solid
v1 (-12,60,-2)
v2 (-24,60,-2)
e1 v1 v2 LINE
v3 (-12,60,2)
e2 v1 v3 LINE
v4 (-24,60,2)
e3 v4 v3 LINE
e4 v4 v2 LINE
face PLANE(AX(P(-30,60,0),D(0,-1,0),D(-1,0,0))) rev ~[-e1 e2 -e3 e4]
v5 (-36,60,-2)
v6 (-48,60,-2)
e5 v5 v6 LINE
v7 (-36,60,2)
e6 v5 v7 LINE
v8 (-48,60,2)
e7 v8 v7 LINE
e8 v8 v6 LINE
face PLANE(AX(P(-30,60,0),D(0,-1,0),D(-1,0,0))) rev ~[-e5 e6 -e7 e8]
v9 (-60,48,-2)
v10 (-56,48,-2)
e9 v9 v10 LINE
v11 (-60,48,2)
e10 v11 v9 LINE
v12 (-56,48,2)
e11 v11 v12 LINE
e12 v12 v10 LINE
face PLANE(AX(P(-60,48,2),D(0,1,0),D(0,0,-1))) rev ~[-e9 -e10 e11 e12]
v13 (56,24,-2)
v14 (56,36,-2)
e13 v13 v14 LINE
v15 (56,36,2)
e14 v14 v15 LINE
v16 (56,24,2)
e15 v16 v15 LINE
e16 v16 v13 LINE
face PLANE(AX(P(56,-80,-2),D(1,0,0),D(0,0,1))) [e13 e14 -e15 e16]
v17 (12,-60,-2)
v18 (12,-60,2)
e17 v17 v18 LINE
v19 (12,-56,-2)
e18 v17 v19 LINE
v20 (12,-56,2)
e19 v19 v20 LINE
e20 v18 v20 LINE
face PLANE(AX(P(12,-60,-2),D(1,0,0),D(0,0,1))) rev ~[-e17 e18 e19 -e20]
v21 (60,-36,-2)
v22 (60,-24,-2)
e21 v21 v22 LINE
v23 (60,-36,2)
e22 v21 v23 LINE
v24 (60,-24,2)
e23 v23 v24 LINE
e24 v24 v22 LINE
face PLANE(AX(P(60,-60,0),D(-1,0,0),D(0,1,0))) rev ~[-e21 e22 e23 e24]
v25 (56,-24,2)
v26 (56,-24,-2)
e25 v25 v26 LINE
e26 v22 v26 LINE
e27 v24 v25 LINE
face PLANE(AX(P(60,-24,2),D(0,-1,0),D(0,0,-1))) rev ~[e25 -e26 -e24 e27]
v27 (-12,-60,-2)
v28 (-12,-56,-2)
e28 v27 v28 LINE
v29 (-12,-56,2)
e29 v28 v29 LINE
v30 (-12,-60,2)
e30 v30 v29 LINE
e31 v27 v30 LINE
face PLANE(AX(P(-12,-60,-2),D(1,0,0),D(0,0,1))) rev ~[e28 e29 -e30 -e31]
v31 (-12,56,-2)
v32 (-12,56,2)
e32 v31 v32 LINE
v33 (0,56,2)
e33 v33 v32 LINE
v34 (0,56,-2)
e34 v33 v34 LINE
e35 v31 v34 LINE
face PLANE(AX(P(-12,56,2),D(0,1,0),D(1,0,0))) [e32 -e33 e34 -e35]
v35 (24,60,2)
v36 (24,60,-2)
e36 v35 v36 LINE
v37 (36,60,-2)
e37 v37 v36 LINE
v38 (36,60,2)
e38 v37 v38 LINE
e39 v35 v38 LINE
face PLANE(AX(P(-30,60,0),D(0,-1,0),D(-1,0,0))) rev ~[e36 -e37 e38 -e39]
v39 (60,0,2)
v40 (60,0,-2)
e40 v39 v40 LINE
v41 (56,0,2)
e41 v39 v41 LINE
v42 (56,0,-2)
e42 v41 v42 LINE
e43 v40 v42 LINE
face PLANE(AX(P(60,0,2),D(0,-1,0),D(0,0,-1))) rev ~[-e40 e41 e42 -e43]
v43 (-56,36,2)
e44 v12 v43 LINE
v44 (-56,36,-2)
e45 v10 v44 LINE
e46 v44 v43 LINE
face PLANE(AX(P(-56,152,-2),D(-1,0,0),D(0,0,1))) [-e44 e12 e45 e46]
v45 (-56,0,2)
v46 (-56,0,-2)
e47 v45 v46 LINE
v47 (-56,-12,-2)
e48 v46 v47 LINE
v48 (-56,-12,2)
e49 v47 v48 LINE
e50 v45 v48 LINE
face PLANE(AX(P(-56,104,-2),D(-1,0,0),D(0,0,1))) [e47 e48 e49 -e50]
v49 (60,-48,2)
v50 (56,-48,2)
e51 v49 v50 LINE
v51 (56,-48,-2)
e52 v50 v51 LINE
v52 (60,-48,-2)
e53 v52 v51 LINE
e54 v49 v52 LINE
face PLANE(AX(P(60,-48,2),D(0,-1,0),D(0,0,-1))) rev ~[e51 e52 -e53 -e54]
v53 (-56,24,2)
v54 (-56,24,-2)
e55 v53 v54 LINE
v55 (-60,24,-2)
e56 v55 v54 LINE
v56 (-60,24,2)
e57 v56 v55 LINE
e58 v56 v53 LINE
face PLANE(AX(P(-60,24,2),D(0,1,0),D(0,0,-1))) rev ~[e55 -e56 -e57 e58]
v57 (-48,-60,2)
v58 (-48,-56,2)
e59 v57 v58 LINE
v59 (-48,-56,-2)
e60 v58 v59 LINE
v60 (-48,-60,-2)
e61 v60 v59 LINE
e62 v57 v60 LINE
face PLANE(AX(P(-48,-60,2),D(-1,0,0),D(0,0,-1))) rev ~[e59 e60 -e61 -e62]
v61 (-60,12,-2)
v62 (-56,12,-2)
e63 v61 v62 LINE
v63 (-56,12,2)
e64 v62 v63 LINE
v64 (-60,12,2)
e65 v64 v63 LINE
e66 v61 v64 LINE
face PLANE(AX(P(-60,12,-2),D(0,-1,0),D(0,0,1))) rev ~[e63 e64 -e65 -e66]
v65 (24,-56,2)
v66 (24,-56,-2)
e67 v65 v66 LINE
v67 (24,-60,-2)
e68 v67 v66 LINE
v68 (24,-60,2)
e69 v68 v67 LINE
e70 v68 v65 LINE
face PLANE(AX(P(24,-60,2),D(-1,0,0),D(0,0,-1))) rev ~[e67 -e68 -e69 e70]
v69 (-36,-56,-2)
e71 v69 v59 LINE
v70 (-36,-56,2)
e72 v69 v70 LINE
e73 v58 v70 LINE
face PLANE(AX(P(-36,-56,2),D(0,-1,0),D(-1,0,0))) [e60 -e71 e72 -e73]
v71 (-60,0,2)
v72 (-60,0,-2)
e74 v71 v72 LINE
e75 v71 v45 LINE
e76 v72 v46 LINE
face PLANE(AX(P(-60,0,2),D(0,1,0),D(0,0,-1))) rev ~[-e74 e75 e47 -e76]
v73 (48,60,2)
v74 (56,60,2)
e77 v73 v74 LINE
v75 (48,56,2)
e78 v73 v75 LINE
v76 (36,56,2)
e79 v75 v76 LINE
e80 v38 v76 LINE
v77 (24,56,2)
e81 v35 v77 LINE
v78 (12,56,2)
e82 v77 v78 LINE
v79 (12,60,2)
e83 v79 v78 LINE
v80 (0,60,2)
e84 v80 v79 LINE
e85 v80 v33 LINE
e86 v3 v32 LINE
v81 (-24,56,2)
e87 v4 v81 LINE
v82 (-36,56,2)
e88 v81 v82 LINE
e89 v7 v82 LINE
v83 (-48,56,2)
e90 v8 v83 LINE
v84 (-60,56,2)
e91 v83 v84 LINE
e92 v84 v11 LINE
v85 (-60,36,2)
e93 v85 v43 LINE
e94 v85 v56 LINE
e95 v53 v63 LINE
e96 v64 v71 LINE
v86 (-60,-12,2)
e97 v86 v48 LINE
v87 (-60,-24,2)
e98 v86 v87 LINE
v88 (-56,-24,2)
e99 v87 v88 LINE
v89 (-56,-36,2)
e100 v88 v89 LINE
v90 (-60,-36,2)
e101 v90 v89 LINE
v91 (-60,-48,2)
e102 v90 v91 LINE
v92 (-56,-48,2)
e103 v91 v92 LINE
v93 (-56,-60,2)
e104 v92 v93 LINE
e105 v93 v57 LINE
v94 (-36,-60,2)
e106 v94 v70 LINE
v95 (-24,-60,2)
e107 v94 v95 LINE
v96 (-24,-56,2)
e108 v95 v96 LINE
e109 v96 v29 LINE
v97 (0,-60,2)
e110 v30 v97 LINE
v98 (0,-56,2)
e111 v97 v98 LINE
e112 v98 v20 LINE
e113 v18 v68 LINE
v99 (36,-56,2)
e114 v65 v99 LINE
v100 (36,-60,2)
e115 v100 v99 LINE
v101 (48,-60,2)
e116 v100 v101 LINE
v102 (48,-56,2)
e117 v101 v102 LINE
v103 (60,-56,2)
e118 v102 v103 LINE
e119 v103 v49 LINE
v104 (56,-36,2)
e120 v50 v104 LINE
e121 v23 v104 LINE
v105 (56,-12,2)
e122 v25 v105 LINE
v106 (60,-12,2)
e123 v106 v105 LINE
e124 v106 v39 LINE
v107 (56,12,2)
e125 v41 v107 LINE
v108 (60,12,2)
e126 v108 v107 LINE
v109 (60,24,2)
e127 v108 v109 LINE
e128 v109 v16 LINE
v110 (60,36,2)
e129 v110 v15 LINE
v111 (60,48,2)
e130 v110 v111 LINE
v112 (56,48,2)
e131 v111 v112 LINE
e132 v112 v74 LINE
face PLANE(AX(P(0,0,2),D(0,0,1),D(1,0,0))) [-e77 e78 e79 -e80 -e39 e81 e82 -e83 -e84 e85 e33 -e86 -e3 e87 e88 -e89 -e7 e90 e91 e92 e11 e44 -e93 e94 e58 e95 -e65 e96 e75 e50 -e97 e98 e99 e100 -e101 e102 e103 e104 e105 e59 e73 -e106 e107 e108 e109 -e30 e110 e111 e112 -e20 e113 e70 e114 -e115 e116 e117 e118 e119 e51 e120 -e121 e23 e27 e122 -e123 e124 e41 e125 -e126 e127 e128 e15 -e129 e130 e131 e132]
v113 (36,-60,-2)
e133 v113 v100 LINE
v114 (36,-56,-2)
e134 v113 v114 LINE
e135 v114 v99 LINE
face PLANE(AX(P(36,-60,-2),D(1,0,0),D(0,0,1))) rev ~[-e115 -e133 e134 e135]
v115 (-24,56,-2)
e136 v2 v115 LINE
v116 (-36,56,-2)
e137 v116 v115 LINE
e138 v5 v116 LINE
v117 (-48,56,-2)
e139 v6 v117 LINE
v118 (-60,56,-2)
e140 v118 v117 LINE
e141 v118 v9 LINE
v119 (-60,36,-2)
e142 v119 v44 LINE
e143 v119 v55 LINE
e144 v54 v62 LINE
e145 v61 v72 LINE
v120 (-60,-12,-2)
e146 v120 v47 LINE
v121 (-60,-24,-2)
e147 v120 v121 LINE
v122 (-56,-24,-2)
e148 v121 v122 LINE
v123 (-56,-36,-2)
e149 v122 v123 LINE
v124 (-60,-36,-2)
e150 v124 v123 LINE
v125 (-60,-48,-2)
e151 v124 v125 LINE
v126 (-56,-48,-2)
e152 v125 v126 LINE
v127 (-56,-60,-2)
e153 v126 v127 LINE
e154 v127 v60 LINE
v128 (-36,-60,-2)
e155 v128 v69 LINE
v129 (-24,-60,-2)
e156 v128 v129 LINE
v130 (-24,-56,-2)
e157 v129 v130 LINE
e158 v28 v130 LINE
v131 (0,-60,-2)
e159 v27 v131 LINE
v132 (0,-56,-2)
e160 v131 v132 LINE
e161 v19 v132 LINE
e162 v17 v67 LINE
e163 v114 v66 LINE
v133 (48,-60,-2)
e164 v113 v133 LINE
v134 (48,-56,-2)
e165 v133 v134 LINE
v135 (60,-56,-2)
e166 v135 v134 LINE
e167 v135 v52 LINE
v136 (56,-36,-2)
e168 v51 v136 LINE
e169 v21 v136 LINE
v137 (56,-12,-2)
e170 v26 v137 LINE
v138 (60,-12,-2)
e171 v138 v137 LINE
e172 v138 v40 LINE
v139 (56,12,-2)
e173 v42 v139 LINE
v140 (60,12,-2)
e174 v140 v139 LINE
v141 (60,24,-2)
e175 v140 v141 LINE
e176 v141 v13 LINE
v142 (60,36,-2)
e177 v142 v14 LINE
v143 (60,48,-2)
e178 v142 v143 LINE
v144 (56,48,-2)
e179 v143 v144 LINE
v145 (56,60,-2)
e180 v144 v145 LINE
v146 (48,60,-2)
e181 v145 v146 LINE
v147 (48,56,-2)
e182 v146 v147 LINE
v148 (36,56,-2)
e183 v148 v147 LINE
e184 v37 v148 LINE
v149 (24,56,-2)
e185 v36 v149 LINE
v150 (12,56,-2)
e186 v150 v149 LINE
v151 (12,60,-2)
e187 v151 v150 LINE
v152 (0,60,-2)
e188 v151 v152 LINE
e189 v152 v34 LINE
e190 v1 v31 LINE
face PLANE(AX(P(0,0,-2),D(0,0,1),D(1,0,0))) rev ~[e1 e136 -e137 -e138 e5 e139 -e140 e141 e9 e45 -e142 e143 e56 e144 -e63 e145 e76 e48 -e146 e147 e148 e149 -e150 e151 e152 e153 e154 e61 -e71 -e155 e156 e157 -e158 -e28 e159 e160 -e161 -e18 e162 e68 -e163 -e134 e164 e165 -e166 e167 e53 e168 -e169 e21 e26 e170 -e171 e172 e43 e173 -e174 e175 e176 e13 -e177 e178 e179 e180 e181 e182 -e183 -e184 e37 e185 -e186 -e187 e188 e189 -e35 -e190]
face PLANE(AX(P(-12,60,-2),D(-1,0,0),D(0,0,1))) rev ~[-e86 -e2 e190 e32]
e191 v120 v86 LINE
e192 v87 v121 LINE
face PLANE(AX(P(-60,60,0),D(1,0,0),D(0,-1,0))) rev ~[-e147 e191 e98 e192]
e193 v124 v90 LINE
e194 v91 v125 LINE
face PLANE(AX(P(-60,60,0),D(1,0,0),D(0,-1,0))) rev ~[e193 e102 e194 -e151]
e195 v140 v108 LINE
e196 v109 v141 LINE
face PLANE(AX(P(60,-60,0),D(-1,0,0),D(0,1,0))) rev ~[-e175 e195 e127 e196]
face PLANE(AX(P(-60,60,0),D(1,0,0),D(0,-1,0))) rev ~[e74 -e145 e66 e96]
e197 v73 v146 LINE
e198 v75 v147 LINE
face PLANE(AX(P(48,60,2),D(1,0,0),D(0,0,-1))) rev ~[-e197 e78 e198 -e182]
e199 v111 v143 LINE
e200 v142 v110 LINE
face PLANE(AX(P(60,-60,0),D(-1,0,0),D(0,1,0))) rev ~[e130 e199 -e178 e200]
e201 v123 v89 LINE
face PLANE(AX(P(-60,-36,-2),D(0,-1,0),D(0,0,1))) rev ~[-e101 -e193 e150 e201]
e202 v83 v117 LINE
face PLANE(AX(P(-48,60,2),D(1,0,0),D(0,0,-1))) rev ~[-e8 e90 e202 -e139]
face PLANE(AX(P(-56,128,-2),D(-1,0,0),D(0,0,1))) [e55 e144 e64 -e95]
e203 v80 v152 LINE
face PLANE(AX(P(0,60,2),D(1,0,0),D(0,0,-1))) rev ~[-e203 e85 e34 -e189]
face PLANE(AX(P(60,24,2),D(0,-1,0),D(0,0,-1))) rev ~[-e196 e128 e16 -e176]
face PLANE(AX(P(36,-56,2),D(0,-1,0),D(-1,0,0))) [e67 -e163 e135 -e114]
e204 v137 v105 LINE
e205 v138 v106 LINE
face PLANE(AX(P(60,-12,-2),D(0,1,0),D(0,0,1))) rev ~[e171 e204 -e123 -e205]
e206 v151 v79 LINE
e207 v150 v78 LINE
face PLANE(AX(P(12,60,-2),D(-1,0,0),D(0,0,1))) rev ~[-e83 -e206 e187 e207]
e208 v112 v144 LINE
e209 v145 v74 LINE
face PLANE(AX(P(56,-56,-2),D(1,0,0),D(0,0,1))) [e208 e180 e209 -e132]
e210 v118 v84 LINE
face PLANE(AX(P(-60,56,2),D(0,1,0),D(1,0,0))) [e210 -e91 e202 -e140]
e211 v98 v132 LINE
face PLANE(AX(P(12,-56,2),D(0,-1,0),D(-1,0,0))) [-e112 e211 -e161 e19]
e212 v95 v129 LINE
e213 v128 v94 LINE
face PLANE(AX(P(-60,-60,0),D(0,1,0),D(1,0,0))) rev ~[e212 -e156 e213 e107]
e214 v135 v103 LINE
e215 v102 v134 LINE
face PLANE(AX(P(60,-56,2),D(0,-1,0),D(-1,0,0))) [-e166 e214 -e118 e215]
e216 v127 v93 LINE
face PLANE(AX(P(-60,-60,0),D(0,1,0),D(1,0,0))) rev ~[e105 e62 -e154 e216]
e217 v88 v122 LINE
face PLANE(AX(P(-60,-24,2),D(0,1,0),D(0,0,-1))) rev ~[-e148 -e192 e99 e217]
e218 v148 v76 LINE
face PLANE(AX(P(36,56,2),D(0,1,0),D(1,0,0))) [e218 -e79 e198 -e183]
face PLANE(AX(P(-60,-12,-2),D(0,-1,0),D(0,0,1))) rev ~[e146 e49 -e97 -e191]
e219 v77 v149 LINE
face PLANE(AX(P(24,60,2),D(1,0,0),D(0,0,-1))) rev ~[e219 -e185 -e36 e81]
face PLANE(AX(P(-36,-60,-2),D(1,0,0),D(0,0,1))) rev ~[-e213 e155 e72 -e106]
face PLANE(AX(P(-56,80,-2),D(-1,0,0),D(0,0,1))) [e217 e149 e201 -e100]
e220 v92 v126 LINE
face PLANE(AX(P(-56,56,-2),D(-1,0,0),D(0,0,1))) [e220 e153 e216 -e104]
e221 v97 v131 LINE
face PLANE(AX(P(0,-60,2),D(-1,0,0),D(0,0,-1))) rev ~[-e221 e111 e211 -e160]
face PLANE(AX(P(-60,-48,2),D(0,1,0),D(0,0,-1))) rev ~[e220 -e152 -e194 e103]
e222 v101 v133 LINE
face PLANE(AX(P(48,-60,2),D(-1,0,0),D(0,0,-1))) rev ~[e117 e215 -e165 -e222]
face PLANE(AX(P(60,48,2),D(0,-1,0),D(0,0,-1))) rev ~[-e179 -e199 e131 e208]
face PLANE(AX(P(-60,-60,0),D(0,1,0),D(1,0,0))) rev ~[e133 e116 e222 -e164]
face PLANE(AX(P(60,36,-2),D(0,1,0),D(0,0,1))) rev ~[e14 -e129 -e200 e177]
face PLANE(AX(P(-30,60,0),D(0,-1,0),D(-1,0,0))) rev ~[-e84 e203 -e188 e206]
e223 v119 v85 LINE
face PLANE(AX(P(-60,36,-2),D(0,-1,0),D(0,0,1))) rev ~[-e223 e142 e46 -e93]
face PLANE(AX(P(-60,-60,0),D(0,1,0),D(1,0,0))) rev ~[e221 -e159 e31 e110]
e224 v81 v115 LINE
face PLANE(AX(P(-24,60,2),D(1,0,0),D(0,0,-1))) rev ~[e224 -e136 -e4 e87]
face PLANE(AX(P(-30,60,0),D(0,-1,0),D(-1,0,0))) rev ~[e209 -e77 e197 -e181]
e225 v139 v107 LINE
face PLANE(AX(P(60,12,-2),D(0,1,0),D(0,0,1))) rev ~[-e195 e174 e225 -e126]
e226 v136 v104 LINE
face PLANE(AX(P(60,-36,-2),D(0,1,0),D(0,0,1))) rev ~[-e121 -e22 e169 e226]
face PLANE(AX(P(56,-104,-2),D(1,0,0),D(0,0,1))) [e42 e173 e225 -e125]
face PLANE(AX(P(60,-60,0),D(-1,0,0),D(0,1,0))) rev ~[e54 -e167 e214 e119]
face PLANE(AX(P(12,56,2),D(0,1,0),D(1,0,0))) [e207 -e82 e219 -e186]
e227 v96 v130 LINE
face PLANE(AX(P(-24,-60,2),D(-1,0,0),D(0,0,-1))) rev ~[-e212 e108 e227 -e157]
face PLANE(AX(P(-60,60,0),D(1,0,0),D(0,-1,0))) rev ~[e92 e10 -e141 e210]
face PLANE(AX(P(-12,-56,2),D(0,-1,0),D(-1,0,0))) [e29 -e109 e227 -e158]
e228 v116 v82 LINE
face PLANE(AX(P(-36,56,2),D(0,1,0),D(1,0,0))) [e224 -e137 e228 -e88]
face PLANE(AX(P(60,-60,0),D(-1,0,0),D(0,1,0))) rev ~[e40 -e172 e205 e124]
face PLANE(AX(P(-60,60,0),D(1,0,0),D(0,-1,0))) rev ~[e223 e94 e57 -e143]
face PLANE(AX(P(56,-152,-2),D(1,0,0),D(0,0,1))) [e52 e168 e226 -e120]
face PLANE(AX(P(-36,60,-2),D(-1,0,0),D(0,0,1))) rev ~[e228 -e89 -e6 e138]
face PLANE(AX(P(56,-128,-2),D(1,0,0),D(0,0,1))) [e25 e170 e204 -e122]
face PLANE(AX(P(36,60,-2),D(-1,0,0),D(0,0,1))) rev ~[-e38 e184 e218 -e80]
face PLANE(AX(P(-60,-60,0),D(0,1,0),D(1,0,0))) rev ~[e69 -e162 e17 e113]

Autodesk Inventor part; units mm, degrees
ref_plane "YZ Plane" through (0, 0, 0) normal (1, 0, 0) x (0, 1, 0)
ref_plane "XZ Plane" through (0, 0, 0) normal (0, 1, 0) x (-1, 0, 0)
ref_plane "XY Plane" through (0, 0, 0) normal (0, 0, 1) x (1, 0, 0)
sketch "Sketch1" plane through (0, 0, 0) normal (0, 0, 1) x (1, 0, 0)
  line L0 (-60, -60) -> (60, -60)
  line L1 (60, -60) -> (60, 60)
  line L2 (60, 60) -> (-60, 60)
  line L3 (-60, 60) -> (-60, -60)
  line L4 (-30, 60) -> (-24.8931, 60)
  point P0 (0, 0)
  dimension "d0" = 120
  dimension "d1" = 120
  dimension "d2" = 60
  dimension "d3" = 60
extrude "Extrusion1" add sketch "Sketch1" along normal mid plane 4
sketch "Sketch3" plane through (-60, 60, 2) normal (0, 1, 0) x (1, 0, 0)
  line L0 (120, 0) -> (0, 0) projected
  line L1 (0, 4) -> (120, 4) projected
  line L2 (0, 0) -> (12, 0)
  line L3 (12, 0) -> (12, 4)
  line L4 (12, 4) -> (0, 4)
  line L5 (0, 4) -> (0, 0)
  line L6 (0, 4) -> (0, 0) projected
  point P0 (60, 2)
  dimension "d17" = 0
  dimension "d18" = 12
extrude "Extrusion2" cut sketch "Sketch3" against normal blind 4
pattern_linear "side_top" count 5 spacing 24 along (1, 0, 0) of "Extrusion2"
sketch "Sketch4" plane through (-60, 56, -2) normal (-1, 0, 0) x (0, 0, 1)
  line L0 (4, 0) -> (4, -116) projected
  line L1 (0, -116) -> (4, -116)
  line L2 (4, -116) -> (4, -104)
  line L3 (4, -104) -> (0, -104)
  line L4 (0, -104) -> (0, -116)
  line L5 (0, -116) -> (4, -116) projected
  point P0 (2, -56)
  point P1 (4, -112)
  point P2 (4, -104)
  dimension "d49" = 4
  dimension "d50" = 12
  dimension "d51" = 0
  dimension "d52" = 0
extrude "Extrusion3" cut sketch "Sketch4" against normal blind 4
pattern_circular "side_bottom" count 2 over 360 about axis through (0, 0, -10) along (0, 0, 1) of "Extrusion2", "side_top"
pattern_linear "side_left" count 5 spacing 24 along (0, 1, 0) of "Extrusion3"
pattern_circular "side_right" count 2 over 360 about axis through (0, 0, -10) along (0, 0, 1) of "Extrusion3", "side_left"
sketch "Sketch6" plane through (0, 0, 2) normal (0, 0, 1) x (1, 0, 0)
  line L0 (60, -12) -> (60, 0) projected
  line L1 (60, 0) -> (56, 0) projected
  line L2 (56, 0) -> (56, 12) projected
  line L3 (56, 12) -> (60, 12) projected
  line L4 (60, 12) -> (60, 24) projected
  line L5 (60, 24) -> (56, 24) projected
  line L6 (56, 24) -> (56, 36) projected
  line L7 (56, 36) -> (60, 36) projected
  line L8 (60, 36) -> (60, 48) projected
  line L9 (60, 48) -> (56, 48) projected
  line L10 (56, 48) -> (56, 60) projected
  line L11 (56, 60) -> (48, 60) projected
  line L12 (48, 60) -> (48, 56) projected
  line L13 (48, 56) -> (36, 56) projected
  line L14 (36, 56) -> (36, 60) projected
  line L15 (36, 60) -> (24, 60) projected
  line L16 (24, 60) -> (24, 56) projected
  line L17 (24, 56) -> (12, 56) projected
  line L18 (12, 56) -> (12, 60) projected
  line L19 (12, 60) -> (0, 60) projected
  line L20 (0, 60) -> (0, 56) projected
  line L21 (0, 56) -> (-12, 56) projected
  line L22 (-12, 56) -> (-12, 60) projected
  line L23 (-12, 60) -> (-24, 60) projected
  line L24 (-24, 60) -> (-24, 56) projected
  line L25 (-24, 56) -> (-36, 56) projected
  line L26 (-36, 56) -> (-36, 60) projected
  line L27 (-36, 60) -> (-48, 60) projected
  line L28 (-48, 60) -> (-48, 56) projected
  line L29 (-48, 56) -> (-60, 56) projected
  line L30 (-60, 12) -> (-60, 0) projected
  line L31 (-60, 0) -> (-56, 0) projected
  line L32 (-56, 0) -> (-56, -12) projected
  line L33 (-56, -12) -> (-60, -12) projected
  line L34 (-60, -12) -> (-60, -24) projected
  line L35 (-60, -24) -> (-56, -24) projected
  line L36 (-56, -24) -> (-56, -36) projected
  line L37 (-56, -36) -> (-60, -36) projected
  line L38 (-60, -36) -> (-60, -48) projected
  line L39 (-60, -48) -> (-56, -48) projected
  line L40 (-56, -48) -> (-56, -60) projected
  line L41 (-56, -60) -> (-48, -60) projected
  line L42 (-48, -60) -> (-48, -56) projected
  line L43 (-48, -56) -> (-36, -56) projected
  line L44 (-36, -56) -> (-36, -60) projected
  line L45 (-36, -60) -> (-24, -60) projected
  line L46 (-24, -60) -> (-24, -56) projected
  line L47 (-24, -56) -> (-12, -56) projected
  line L48 (-12, -56) -> (-12, -60) projected
  line L49 (-12, -60) -> (0, -60) projected
  line L50 (0, -60) -> (0, -56) projected
  line L51 (0, -56) -> (12, -56) projected
  line L52 (12, -56) -> (12, -60) projected
  line L53 (12, -60) -> (24, -60) projected
  line L54 (24, -60) -> (24, -56) projected
  line L55 (24, -56) -> (36, -56) projected
  line L56 (36, -56) -> (36, -60) projected
  line L57 (36, -60) -> (48, -60) projected
  line L58 (48, -60) -> (48, -56) projected
  line L59 (48, -56) -> (60, -56) projected
  line L60 (-60.11, 60.11) -> (-35.89, 60.11)
  line L61 (-35.89, 60.11) -> (-35.89, 56.11)
  line L62 (-35.89, 56.11) -> (-24.11, 56.11)
  line L63 (-24.11, 56.11) -> (-24.11, 60.11)
  line L64 (-24.11, 60.11) -> (-11.89, 60.11)
  line L65 (-11.89, 60.11) -> (-11.89, 56.11)
  line L66 (-11.89, 56.11) -> (-0.11, 56.11)
  line L67 (-0.11, 56.11) -> (-0.11, 60.11)
  line L68 (-0.11, 60.11) -> (12.11, 60.11)
  line L69 (12.11, 60.11) -> (12.11, 56.11)
  line L70 (12.11, 56.11) -> (23.89, 56.11)
  line L71 (23.89, 56.11) -> (23.89, 60.11)
  line L72 (23.89, 60.11) -> (36.11, 60.11)
  line L73 (36.11, 60.11) -> (36.11, 56.11)
  line L74 (36.11, 56.11) -> (47.89, 56.11)
  line L75 (47.89, 56.11) -> (47.89, 60.11)
  line L76 (47.89, 60.11) -> (56.11, 60.11)
  line L77 (56.11, 60.11) -> (56.11, 48.11)
  line L78 (56.11, 48.11) -> (60.11, 48.11)
  line L79 (60.11, 48.11) -> (60.11, 35.89)
  line L80 (60.11, 35.89) -> (56.11, 35.89)
  line L81 (56.11, 35.89) -> (56.11, 24.11)
  line L82 (56.11, 24.11) -> (60.11, 24.11)
  line L83 (60.11, 24.11) -> (60.11, 11.89)
  line L84 (60.11, 11.89) -> (56.11, 11.89)
  line L85 (56.11, 11.89) -> (56.11, 0.11)
  line L86 (56.11, 0.11) -> (60.11, 0.11)
  line L87 (60.11, 0.11) -> (60.11, -22.11)
  line L88 (60.11, -22.11) -> (56.11, -22.11)
  line L89 (56.11, -22.11) -> (56.11, -33.89)
  line L90 (56.11, -33.89) -> (60.11, -33.89)
  line L91 (60.11, -33.89) -> (60.11, -24.11)
  line L92 (60.11, -24.11) -> (56.11, -24.11)
  line L93 (56.11, -24.11) -> (56.11, -35.89)
  line L94 (56.11, -35.89) -> (60.11, -35.89)
  line L95 (60.11, -35.89) -> (60.11, -68.11)
  line L96 (60.11, -68.11) -> (60.11, -68.11)
  line L97 (60.11, -68.11) -> (60.11, -72.11)
  line L98 (60.11, -72.11) -> (23.89, -72.11)
  line L99 (23.89, -72.11) -> (23.89, -68.11)
  line L100 (23.89, -68.11) -> (36.11, -68.11)
  line L101 (36.11, -68.11) -> (36.11, -72.11)
  line L102 (36.11, -72.11) -> (-0.11, -72.11)
  line L103 (-0.11, -72.11) -> (-0.11, -68.11)
  line L104 (-0.11, -68.11) -> (12.11, -68.11)
  line L105 (12.11, -68.11) -> (12.11, -72.11)
  line L106 (12.11, -72.11) -> (-24.11, -72.11)
  line L107 (-24.11, -72.11) -> (-24.11, -68.11)
  line L108 (-24.11, -68.11) -> (-11.89, -68.11)
  line L109 (-11.89, -68.11) -> (-11.89, -72.11)
  line L110 (-11.89, -72.11) -> (-48.11, -72.11)
  line L111 (-48.11, -72.11) -> (-48.11, -68.11)
  line L112 (-48.11, -68.11) -> (-35.89, -68.11)
  line L113 (-35.89, -68.11) -> (-35.89, -72.11)
  line L114 (-35.89, -72.11) -> (-68.11, -72.11)
  line L115 (-68.11, -72.11) -> (-68.11, -60.11)
  line L116 (-68.11, -60.11) -> (-72.11, -60.11)
  line L117 (-72.11, -60.11) -> (-72.11, -23.89)
  line L118 (-72.11, -23.89) -> (-68.11, -23.89)
  line L119 (-68.11, -23.89) -> (-68.11, -36.11)
  line L120 (-68.11, -36.11) -> (-72.11, -36.11)
  line L121 (-72.11, -36.11) -> (-72.11, 0.11)
  line L122 (-72.11, 0.11) -> (-68.11, 0.11)
  line L123 (-68.11, 0.11) -> (-68.11, -12.11)
  line L124 (-68.11, -12.11) -> (-72.11, -12.11)
  line L125 (-72.11, -12.11) -> (-72.11, 44.11)
  line L126 (-72.11, 44.11) -> (-68.11, 44.11)
  line L127 (-68.11, 44.11) -> (-68.11, 11.89)
  line L128 (-68.11, 11.89) -> (-72.11, 11.89)
  line L129 (-72.11, 11.89) -> (-72.11, 24.11)
  line L130 (-72.11, 24.11) -> (-68.11, 24.11)
  line L131 (-68.11, 24.11) -> (-68.11, 35.89)
  line L132 (-68.11, 35.89) -> (-72.11, 35.89)
  line L133 (-72.11, 35.89) -> (-72.11, 68.11)
  line L134 (-72.11, 68.11) -> (-60.11, 68.11)
  line L135 (-60.11, 68.11) -> (-60.11, 60.11)
  line L136 (56, -36) -> (60, -36) projected
  line L137 (60, -36) -> (60, -24) projected
  line L138 (60, -24) -> (56, -24) projected
  line L139 (56, -24) -> (56, -12) projected
  line L140 (56, -12) -> (60, -12) projected
  line L141 (-60, 56) -> (-60, 48) projected
  line L142 (-60, 48) -> (-56, 48) projected
  line L143 (-56, 48) -> (-56, 36) projected
  line L144 (-56, 36) -> (-60, 36) projected
  line L145 (-60, 36) -> (-60, 24) projected
  line L146 (-60, 24) -> (-56, 24) projected
  line L147 (-56, 24) -> (-56, 12) projected
  line L148 (-56, 12) -> (-60, 12) projected
  line L149 (60, -56) -> (60, -48) projected
  line L150 (60, -48) -> (56, -48) projected
  line L151 (56, -48) -> (56, -36) projected
  point P0 (0, 0)
  dimension "d59" = 0.11
extrude "Extrusion5" [suppressed]
sketch "Sketch7" plane through (0, 0, 2) normal (0, 0, 1) x (1, 0, 0)
  line L0 (-60.11, 68.11) -> (-72.11, 68.11) projected
  line L1 (-72.11, 68.11) -> (-72.11, 35.89) projected
  line L2 (-72.11, 35.89) -> (-68.11, 35.89) projected
  line L3 (-68.11, 35.89) -> (-68.11, 24.11) projected
  line L4 (-68.11, 24.11) -> (-72.11, 24.11) projected
  line L5 (-72.11, 24.11) -> (-72.11, 11.89) projected
  line L6 (-72.11, 11.89) -> (-68.11, 11.89) projected
  line L7 (-68.11, 11.89) -> (-68.11, 0.11) projected
  line L8 (-68.11, 0.11) -> (-72.11, 0.11) projected
  line L9 (-72.11, 0.11) -> (-72.11, -12.11) projected
  line L10 (-72.11, -12.11) -> (-68.11, -12.11) projected
  line L11 (-68.11, -12.11) -> (-68.11, -23.89) projected
  line L12 (-68.11, -23.89) -> (-72.11, -23.89) projected
  line L13 (-72.11, -23.89) -> (-72.11, -36.11) projected
  line L14 (-72.11, -36.11) -> (-68.11, -36.11) projected
  line L15 (-68.11, -36.11) -> (-68.11, -47.89) projected
  line L16 (-68.11, -47.89) -> (-72.11, -47.89) projected
  line L17 (-72.11, -47.89) -> (-72.11, -60.11) projected
  line L18 (-72.11, -60.11) -> (-68.11, -60.11) projected
  line L19 (-68.11, -60.11) -> (-68.11, -72.11) projected
  line L20 (-68.11, -72.11) -> (-35.89, -72.11) projected
  line L21 (-35.89, -72.11) -> (-35.89, -68.11) projected
  line L22 (-35.89, -68.11) -> (-24.11, -68.11) projected
  line L23 (-24.11, -68.11) -> (-24.11, -72.11) projected
  line L24 (-24.11, -72.11) -> (-11.89, -72.11) projected
  line L25 (-11.89, -72.11) -> (-11.89, -68.11) projected
  line L26 (-11.89, -68.11) -> (-0.11, -68.11) projected
  line L27 (-0.11, -68.11) -> (-0.11, -72.11) projected
  line L28 (-0.11, -72.11) -> (12.11, -72.11) projected
  line L29 (12.11, -72.11) -> (12.11, -68.11) projected
  line L30 (12.11, -68.11) -> (23.89, -68.11) projected
  line L31 (23.89, -68.11) -> (23.89, -72.11) projected
  line L32 (23.89, -72.11) -> (36.11, -72.11) projected
  line L33 (36.11, -72.11) -> (36.11, -68.11) projected
  line L34 (36.11, -68.11) -> (47.89, -68.11) projected
  line L35 (47.89, -68.11) -> (47.89, -72.11) projected
  line L36 (47.89, -72.11) -> (60.11, -72.11) projected
  line L37 (60.11, -72.11) -> (60.11, -68.11) projected
  line L38 (60.11, -68.11) -> (72.11, -68.11) projected
  line L39 (72.11, -68.11) -> (72.11, -35.89) projected
  line L40 (72.11, -35.89) -> (68.11, -35.89) projected
  line L41 (68.11, -35.89) -> (68.11, -24.11) projected
  line L42 (68.11, -24.11) -> (72.11, -24.11) projected
  line L43 (72.11, -24.11) -> (72.11, -11.89) projected
  line L44 (72.11, -11.89) -> (68.11, -11.89) projected
  line L45 (68.11, -11.89) -> (68.11, -0.11) projected
  line L46 (68.11, -0.11) -> (72.11, -0.11) projected
  line L47 (72.11, -0.11) -> (72.11, 12.11) projected
  line L48 (72.11, 12.11) -> (68.11, 12.11) projected
  line L49 (68.11, 12.11) -> (68.11, 23.89) projected
  line L50 (68.11, 23.89) -> (72.11, 23.89) projected
  line L51 (72.11, 23.89) -> (72.11, 36.11) projected
  line L52 (72.11, 36.11) -> (68.11, 36.11) projected
  line L53 (68.11, 36.11) -> (68.11, 47.89) projected
  line L54 (68.11, 47.89) -> (72.11, 47.89) projected
  line L55 (72.11, 47.89) -> (72.11, 60.11) projected
  line L56 (72.11, 60.11) -> (68.11, 60.11) projected
  line L57 (68.11, 60.11) -> (68.11, 72.11) projected
  line L58 (68.11, 72.11) -> (35.89, 72.11) projected
  line L59 (35.89, 72.11) -> (35.89, 68.11) projected
  line L60 (35.89, 68.11) -> (24.11, 68.11) projected
  line L61 (24.11, 68.11) -> (24.11, 72.11) projected
  line L62 (24.11, 72.11) -> (11.89, 72.11) projected
  line L63 (11.89, 72.11) -> (11.89, 68.11) projected
  line L64 (11.89, 68.11) -> (0.11, 68.11) projected
  line L65 (0.11, 68.11) -> (0.11, 72.11) projected
  line L66 (0.11, 72.11) -> (-12.11, 72.11) projected
  line L67 (-12.11, 72.11) -> (-12.11, 68.11) projected
  line L68 (-12.11, 68.11) -> (-23.89, 68.11) projected
  line L69 (-23.89, 68.11) -> (-23.89, 72.11) projected
  line L70 (-23.89, 72.11) -> (-36.11, 72.11) projected
  line L71 (-36.11, 72.11) -> (-36.11, 68.11) projected
  line L72 (-36.11, 68.11) -> (-47.89, 68.11) projected
  line L73 (-47.89, 68.11) -> (-47.89, 72.11) projected
  line L74 (-47.89, 72.11) -> (-60.11, 72.11) projected
  line L75 (-60.11, 72.11) -> (-60.11, 68.11) projected
  point P0 (0, 0)
equation "\"d0\" = width"
equation "\"d1\" = height"
equation "\"d2\" = 0.5 * width"
equation "\"d3\" = 0.5 * height"
equation "\"d4\" = thickness"
equation "\"d18\" = finger"
equation "\"d19\" = thickness"
equation "\"d23\" = 2 * finger"
equation "\"d49\" = thickness"
equation "\"d50\" = finger"
equation "\"d28\" = thickness"
equation "\"d55\" = 2 * finger"
equation "\"d59\" = 0.5 * kerf"
equation "\"d60\" = thickness"
equation "\"width\" = 120"
equation "\"height\" = 120"
equation "\"thickness\" = 4"
equation "\"finger\" = 3 * thickness"
equation "\"kerf\" = 0.22"
properties part number "Lukt_hlidarplata"
